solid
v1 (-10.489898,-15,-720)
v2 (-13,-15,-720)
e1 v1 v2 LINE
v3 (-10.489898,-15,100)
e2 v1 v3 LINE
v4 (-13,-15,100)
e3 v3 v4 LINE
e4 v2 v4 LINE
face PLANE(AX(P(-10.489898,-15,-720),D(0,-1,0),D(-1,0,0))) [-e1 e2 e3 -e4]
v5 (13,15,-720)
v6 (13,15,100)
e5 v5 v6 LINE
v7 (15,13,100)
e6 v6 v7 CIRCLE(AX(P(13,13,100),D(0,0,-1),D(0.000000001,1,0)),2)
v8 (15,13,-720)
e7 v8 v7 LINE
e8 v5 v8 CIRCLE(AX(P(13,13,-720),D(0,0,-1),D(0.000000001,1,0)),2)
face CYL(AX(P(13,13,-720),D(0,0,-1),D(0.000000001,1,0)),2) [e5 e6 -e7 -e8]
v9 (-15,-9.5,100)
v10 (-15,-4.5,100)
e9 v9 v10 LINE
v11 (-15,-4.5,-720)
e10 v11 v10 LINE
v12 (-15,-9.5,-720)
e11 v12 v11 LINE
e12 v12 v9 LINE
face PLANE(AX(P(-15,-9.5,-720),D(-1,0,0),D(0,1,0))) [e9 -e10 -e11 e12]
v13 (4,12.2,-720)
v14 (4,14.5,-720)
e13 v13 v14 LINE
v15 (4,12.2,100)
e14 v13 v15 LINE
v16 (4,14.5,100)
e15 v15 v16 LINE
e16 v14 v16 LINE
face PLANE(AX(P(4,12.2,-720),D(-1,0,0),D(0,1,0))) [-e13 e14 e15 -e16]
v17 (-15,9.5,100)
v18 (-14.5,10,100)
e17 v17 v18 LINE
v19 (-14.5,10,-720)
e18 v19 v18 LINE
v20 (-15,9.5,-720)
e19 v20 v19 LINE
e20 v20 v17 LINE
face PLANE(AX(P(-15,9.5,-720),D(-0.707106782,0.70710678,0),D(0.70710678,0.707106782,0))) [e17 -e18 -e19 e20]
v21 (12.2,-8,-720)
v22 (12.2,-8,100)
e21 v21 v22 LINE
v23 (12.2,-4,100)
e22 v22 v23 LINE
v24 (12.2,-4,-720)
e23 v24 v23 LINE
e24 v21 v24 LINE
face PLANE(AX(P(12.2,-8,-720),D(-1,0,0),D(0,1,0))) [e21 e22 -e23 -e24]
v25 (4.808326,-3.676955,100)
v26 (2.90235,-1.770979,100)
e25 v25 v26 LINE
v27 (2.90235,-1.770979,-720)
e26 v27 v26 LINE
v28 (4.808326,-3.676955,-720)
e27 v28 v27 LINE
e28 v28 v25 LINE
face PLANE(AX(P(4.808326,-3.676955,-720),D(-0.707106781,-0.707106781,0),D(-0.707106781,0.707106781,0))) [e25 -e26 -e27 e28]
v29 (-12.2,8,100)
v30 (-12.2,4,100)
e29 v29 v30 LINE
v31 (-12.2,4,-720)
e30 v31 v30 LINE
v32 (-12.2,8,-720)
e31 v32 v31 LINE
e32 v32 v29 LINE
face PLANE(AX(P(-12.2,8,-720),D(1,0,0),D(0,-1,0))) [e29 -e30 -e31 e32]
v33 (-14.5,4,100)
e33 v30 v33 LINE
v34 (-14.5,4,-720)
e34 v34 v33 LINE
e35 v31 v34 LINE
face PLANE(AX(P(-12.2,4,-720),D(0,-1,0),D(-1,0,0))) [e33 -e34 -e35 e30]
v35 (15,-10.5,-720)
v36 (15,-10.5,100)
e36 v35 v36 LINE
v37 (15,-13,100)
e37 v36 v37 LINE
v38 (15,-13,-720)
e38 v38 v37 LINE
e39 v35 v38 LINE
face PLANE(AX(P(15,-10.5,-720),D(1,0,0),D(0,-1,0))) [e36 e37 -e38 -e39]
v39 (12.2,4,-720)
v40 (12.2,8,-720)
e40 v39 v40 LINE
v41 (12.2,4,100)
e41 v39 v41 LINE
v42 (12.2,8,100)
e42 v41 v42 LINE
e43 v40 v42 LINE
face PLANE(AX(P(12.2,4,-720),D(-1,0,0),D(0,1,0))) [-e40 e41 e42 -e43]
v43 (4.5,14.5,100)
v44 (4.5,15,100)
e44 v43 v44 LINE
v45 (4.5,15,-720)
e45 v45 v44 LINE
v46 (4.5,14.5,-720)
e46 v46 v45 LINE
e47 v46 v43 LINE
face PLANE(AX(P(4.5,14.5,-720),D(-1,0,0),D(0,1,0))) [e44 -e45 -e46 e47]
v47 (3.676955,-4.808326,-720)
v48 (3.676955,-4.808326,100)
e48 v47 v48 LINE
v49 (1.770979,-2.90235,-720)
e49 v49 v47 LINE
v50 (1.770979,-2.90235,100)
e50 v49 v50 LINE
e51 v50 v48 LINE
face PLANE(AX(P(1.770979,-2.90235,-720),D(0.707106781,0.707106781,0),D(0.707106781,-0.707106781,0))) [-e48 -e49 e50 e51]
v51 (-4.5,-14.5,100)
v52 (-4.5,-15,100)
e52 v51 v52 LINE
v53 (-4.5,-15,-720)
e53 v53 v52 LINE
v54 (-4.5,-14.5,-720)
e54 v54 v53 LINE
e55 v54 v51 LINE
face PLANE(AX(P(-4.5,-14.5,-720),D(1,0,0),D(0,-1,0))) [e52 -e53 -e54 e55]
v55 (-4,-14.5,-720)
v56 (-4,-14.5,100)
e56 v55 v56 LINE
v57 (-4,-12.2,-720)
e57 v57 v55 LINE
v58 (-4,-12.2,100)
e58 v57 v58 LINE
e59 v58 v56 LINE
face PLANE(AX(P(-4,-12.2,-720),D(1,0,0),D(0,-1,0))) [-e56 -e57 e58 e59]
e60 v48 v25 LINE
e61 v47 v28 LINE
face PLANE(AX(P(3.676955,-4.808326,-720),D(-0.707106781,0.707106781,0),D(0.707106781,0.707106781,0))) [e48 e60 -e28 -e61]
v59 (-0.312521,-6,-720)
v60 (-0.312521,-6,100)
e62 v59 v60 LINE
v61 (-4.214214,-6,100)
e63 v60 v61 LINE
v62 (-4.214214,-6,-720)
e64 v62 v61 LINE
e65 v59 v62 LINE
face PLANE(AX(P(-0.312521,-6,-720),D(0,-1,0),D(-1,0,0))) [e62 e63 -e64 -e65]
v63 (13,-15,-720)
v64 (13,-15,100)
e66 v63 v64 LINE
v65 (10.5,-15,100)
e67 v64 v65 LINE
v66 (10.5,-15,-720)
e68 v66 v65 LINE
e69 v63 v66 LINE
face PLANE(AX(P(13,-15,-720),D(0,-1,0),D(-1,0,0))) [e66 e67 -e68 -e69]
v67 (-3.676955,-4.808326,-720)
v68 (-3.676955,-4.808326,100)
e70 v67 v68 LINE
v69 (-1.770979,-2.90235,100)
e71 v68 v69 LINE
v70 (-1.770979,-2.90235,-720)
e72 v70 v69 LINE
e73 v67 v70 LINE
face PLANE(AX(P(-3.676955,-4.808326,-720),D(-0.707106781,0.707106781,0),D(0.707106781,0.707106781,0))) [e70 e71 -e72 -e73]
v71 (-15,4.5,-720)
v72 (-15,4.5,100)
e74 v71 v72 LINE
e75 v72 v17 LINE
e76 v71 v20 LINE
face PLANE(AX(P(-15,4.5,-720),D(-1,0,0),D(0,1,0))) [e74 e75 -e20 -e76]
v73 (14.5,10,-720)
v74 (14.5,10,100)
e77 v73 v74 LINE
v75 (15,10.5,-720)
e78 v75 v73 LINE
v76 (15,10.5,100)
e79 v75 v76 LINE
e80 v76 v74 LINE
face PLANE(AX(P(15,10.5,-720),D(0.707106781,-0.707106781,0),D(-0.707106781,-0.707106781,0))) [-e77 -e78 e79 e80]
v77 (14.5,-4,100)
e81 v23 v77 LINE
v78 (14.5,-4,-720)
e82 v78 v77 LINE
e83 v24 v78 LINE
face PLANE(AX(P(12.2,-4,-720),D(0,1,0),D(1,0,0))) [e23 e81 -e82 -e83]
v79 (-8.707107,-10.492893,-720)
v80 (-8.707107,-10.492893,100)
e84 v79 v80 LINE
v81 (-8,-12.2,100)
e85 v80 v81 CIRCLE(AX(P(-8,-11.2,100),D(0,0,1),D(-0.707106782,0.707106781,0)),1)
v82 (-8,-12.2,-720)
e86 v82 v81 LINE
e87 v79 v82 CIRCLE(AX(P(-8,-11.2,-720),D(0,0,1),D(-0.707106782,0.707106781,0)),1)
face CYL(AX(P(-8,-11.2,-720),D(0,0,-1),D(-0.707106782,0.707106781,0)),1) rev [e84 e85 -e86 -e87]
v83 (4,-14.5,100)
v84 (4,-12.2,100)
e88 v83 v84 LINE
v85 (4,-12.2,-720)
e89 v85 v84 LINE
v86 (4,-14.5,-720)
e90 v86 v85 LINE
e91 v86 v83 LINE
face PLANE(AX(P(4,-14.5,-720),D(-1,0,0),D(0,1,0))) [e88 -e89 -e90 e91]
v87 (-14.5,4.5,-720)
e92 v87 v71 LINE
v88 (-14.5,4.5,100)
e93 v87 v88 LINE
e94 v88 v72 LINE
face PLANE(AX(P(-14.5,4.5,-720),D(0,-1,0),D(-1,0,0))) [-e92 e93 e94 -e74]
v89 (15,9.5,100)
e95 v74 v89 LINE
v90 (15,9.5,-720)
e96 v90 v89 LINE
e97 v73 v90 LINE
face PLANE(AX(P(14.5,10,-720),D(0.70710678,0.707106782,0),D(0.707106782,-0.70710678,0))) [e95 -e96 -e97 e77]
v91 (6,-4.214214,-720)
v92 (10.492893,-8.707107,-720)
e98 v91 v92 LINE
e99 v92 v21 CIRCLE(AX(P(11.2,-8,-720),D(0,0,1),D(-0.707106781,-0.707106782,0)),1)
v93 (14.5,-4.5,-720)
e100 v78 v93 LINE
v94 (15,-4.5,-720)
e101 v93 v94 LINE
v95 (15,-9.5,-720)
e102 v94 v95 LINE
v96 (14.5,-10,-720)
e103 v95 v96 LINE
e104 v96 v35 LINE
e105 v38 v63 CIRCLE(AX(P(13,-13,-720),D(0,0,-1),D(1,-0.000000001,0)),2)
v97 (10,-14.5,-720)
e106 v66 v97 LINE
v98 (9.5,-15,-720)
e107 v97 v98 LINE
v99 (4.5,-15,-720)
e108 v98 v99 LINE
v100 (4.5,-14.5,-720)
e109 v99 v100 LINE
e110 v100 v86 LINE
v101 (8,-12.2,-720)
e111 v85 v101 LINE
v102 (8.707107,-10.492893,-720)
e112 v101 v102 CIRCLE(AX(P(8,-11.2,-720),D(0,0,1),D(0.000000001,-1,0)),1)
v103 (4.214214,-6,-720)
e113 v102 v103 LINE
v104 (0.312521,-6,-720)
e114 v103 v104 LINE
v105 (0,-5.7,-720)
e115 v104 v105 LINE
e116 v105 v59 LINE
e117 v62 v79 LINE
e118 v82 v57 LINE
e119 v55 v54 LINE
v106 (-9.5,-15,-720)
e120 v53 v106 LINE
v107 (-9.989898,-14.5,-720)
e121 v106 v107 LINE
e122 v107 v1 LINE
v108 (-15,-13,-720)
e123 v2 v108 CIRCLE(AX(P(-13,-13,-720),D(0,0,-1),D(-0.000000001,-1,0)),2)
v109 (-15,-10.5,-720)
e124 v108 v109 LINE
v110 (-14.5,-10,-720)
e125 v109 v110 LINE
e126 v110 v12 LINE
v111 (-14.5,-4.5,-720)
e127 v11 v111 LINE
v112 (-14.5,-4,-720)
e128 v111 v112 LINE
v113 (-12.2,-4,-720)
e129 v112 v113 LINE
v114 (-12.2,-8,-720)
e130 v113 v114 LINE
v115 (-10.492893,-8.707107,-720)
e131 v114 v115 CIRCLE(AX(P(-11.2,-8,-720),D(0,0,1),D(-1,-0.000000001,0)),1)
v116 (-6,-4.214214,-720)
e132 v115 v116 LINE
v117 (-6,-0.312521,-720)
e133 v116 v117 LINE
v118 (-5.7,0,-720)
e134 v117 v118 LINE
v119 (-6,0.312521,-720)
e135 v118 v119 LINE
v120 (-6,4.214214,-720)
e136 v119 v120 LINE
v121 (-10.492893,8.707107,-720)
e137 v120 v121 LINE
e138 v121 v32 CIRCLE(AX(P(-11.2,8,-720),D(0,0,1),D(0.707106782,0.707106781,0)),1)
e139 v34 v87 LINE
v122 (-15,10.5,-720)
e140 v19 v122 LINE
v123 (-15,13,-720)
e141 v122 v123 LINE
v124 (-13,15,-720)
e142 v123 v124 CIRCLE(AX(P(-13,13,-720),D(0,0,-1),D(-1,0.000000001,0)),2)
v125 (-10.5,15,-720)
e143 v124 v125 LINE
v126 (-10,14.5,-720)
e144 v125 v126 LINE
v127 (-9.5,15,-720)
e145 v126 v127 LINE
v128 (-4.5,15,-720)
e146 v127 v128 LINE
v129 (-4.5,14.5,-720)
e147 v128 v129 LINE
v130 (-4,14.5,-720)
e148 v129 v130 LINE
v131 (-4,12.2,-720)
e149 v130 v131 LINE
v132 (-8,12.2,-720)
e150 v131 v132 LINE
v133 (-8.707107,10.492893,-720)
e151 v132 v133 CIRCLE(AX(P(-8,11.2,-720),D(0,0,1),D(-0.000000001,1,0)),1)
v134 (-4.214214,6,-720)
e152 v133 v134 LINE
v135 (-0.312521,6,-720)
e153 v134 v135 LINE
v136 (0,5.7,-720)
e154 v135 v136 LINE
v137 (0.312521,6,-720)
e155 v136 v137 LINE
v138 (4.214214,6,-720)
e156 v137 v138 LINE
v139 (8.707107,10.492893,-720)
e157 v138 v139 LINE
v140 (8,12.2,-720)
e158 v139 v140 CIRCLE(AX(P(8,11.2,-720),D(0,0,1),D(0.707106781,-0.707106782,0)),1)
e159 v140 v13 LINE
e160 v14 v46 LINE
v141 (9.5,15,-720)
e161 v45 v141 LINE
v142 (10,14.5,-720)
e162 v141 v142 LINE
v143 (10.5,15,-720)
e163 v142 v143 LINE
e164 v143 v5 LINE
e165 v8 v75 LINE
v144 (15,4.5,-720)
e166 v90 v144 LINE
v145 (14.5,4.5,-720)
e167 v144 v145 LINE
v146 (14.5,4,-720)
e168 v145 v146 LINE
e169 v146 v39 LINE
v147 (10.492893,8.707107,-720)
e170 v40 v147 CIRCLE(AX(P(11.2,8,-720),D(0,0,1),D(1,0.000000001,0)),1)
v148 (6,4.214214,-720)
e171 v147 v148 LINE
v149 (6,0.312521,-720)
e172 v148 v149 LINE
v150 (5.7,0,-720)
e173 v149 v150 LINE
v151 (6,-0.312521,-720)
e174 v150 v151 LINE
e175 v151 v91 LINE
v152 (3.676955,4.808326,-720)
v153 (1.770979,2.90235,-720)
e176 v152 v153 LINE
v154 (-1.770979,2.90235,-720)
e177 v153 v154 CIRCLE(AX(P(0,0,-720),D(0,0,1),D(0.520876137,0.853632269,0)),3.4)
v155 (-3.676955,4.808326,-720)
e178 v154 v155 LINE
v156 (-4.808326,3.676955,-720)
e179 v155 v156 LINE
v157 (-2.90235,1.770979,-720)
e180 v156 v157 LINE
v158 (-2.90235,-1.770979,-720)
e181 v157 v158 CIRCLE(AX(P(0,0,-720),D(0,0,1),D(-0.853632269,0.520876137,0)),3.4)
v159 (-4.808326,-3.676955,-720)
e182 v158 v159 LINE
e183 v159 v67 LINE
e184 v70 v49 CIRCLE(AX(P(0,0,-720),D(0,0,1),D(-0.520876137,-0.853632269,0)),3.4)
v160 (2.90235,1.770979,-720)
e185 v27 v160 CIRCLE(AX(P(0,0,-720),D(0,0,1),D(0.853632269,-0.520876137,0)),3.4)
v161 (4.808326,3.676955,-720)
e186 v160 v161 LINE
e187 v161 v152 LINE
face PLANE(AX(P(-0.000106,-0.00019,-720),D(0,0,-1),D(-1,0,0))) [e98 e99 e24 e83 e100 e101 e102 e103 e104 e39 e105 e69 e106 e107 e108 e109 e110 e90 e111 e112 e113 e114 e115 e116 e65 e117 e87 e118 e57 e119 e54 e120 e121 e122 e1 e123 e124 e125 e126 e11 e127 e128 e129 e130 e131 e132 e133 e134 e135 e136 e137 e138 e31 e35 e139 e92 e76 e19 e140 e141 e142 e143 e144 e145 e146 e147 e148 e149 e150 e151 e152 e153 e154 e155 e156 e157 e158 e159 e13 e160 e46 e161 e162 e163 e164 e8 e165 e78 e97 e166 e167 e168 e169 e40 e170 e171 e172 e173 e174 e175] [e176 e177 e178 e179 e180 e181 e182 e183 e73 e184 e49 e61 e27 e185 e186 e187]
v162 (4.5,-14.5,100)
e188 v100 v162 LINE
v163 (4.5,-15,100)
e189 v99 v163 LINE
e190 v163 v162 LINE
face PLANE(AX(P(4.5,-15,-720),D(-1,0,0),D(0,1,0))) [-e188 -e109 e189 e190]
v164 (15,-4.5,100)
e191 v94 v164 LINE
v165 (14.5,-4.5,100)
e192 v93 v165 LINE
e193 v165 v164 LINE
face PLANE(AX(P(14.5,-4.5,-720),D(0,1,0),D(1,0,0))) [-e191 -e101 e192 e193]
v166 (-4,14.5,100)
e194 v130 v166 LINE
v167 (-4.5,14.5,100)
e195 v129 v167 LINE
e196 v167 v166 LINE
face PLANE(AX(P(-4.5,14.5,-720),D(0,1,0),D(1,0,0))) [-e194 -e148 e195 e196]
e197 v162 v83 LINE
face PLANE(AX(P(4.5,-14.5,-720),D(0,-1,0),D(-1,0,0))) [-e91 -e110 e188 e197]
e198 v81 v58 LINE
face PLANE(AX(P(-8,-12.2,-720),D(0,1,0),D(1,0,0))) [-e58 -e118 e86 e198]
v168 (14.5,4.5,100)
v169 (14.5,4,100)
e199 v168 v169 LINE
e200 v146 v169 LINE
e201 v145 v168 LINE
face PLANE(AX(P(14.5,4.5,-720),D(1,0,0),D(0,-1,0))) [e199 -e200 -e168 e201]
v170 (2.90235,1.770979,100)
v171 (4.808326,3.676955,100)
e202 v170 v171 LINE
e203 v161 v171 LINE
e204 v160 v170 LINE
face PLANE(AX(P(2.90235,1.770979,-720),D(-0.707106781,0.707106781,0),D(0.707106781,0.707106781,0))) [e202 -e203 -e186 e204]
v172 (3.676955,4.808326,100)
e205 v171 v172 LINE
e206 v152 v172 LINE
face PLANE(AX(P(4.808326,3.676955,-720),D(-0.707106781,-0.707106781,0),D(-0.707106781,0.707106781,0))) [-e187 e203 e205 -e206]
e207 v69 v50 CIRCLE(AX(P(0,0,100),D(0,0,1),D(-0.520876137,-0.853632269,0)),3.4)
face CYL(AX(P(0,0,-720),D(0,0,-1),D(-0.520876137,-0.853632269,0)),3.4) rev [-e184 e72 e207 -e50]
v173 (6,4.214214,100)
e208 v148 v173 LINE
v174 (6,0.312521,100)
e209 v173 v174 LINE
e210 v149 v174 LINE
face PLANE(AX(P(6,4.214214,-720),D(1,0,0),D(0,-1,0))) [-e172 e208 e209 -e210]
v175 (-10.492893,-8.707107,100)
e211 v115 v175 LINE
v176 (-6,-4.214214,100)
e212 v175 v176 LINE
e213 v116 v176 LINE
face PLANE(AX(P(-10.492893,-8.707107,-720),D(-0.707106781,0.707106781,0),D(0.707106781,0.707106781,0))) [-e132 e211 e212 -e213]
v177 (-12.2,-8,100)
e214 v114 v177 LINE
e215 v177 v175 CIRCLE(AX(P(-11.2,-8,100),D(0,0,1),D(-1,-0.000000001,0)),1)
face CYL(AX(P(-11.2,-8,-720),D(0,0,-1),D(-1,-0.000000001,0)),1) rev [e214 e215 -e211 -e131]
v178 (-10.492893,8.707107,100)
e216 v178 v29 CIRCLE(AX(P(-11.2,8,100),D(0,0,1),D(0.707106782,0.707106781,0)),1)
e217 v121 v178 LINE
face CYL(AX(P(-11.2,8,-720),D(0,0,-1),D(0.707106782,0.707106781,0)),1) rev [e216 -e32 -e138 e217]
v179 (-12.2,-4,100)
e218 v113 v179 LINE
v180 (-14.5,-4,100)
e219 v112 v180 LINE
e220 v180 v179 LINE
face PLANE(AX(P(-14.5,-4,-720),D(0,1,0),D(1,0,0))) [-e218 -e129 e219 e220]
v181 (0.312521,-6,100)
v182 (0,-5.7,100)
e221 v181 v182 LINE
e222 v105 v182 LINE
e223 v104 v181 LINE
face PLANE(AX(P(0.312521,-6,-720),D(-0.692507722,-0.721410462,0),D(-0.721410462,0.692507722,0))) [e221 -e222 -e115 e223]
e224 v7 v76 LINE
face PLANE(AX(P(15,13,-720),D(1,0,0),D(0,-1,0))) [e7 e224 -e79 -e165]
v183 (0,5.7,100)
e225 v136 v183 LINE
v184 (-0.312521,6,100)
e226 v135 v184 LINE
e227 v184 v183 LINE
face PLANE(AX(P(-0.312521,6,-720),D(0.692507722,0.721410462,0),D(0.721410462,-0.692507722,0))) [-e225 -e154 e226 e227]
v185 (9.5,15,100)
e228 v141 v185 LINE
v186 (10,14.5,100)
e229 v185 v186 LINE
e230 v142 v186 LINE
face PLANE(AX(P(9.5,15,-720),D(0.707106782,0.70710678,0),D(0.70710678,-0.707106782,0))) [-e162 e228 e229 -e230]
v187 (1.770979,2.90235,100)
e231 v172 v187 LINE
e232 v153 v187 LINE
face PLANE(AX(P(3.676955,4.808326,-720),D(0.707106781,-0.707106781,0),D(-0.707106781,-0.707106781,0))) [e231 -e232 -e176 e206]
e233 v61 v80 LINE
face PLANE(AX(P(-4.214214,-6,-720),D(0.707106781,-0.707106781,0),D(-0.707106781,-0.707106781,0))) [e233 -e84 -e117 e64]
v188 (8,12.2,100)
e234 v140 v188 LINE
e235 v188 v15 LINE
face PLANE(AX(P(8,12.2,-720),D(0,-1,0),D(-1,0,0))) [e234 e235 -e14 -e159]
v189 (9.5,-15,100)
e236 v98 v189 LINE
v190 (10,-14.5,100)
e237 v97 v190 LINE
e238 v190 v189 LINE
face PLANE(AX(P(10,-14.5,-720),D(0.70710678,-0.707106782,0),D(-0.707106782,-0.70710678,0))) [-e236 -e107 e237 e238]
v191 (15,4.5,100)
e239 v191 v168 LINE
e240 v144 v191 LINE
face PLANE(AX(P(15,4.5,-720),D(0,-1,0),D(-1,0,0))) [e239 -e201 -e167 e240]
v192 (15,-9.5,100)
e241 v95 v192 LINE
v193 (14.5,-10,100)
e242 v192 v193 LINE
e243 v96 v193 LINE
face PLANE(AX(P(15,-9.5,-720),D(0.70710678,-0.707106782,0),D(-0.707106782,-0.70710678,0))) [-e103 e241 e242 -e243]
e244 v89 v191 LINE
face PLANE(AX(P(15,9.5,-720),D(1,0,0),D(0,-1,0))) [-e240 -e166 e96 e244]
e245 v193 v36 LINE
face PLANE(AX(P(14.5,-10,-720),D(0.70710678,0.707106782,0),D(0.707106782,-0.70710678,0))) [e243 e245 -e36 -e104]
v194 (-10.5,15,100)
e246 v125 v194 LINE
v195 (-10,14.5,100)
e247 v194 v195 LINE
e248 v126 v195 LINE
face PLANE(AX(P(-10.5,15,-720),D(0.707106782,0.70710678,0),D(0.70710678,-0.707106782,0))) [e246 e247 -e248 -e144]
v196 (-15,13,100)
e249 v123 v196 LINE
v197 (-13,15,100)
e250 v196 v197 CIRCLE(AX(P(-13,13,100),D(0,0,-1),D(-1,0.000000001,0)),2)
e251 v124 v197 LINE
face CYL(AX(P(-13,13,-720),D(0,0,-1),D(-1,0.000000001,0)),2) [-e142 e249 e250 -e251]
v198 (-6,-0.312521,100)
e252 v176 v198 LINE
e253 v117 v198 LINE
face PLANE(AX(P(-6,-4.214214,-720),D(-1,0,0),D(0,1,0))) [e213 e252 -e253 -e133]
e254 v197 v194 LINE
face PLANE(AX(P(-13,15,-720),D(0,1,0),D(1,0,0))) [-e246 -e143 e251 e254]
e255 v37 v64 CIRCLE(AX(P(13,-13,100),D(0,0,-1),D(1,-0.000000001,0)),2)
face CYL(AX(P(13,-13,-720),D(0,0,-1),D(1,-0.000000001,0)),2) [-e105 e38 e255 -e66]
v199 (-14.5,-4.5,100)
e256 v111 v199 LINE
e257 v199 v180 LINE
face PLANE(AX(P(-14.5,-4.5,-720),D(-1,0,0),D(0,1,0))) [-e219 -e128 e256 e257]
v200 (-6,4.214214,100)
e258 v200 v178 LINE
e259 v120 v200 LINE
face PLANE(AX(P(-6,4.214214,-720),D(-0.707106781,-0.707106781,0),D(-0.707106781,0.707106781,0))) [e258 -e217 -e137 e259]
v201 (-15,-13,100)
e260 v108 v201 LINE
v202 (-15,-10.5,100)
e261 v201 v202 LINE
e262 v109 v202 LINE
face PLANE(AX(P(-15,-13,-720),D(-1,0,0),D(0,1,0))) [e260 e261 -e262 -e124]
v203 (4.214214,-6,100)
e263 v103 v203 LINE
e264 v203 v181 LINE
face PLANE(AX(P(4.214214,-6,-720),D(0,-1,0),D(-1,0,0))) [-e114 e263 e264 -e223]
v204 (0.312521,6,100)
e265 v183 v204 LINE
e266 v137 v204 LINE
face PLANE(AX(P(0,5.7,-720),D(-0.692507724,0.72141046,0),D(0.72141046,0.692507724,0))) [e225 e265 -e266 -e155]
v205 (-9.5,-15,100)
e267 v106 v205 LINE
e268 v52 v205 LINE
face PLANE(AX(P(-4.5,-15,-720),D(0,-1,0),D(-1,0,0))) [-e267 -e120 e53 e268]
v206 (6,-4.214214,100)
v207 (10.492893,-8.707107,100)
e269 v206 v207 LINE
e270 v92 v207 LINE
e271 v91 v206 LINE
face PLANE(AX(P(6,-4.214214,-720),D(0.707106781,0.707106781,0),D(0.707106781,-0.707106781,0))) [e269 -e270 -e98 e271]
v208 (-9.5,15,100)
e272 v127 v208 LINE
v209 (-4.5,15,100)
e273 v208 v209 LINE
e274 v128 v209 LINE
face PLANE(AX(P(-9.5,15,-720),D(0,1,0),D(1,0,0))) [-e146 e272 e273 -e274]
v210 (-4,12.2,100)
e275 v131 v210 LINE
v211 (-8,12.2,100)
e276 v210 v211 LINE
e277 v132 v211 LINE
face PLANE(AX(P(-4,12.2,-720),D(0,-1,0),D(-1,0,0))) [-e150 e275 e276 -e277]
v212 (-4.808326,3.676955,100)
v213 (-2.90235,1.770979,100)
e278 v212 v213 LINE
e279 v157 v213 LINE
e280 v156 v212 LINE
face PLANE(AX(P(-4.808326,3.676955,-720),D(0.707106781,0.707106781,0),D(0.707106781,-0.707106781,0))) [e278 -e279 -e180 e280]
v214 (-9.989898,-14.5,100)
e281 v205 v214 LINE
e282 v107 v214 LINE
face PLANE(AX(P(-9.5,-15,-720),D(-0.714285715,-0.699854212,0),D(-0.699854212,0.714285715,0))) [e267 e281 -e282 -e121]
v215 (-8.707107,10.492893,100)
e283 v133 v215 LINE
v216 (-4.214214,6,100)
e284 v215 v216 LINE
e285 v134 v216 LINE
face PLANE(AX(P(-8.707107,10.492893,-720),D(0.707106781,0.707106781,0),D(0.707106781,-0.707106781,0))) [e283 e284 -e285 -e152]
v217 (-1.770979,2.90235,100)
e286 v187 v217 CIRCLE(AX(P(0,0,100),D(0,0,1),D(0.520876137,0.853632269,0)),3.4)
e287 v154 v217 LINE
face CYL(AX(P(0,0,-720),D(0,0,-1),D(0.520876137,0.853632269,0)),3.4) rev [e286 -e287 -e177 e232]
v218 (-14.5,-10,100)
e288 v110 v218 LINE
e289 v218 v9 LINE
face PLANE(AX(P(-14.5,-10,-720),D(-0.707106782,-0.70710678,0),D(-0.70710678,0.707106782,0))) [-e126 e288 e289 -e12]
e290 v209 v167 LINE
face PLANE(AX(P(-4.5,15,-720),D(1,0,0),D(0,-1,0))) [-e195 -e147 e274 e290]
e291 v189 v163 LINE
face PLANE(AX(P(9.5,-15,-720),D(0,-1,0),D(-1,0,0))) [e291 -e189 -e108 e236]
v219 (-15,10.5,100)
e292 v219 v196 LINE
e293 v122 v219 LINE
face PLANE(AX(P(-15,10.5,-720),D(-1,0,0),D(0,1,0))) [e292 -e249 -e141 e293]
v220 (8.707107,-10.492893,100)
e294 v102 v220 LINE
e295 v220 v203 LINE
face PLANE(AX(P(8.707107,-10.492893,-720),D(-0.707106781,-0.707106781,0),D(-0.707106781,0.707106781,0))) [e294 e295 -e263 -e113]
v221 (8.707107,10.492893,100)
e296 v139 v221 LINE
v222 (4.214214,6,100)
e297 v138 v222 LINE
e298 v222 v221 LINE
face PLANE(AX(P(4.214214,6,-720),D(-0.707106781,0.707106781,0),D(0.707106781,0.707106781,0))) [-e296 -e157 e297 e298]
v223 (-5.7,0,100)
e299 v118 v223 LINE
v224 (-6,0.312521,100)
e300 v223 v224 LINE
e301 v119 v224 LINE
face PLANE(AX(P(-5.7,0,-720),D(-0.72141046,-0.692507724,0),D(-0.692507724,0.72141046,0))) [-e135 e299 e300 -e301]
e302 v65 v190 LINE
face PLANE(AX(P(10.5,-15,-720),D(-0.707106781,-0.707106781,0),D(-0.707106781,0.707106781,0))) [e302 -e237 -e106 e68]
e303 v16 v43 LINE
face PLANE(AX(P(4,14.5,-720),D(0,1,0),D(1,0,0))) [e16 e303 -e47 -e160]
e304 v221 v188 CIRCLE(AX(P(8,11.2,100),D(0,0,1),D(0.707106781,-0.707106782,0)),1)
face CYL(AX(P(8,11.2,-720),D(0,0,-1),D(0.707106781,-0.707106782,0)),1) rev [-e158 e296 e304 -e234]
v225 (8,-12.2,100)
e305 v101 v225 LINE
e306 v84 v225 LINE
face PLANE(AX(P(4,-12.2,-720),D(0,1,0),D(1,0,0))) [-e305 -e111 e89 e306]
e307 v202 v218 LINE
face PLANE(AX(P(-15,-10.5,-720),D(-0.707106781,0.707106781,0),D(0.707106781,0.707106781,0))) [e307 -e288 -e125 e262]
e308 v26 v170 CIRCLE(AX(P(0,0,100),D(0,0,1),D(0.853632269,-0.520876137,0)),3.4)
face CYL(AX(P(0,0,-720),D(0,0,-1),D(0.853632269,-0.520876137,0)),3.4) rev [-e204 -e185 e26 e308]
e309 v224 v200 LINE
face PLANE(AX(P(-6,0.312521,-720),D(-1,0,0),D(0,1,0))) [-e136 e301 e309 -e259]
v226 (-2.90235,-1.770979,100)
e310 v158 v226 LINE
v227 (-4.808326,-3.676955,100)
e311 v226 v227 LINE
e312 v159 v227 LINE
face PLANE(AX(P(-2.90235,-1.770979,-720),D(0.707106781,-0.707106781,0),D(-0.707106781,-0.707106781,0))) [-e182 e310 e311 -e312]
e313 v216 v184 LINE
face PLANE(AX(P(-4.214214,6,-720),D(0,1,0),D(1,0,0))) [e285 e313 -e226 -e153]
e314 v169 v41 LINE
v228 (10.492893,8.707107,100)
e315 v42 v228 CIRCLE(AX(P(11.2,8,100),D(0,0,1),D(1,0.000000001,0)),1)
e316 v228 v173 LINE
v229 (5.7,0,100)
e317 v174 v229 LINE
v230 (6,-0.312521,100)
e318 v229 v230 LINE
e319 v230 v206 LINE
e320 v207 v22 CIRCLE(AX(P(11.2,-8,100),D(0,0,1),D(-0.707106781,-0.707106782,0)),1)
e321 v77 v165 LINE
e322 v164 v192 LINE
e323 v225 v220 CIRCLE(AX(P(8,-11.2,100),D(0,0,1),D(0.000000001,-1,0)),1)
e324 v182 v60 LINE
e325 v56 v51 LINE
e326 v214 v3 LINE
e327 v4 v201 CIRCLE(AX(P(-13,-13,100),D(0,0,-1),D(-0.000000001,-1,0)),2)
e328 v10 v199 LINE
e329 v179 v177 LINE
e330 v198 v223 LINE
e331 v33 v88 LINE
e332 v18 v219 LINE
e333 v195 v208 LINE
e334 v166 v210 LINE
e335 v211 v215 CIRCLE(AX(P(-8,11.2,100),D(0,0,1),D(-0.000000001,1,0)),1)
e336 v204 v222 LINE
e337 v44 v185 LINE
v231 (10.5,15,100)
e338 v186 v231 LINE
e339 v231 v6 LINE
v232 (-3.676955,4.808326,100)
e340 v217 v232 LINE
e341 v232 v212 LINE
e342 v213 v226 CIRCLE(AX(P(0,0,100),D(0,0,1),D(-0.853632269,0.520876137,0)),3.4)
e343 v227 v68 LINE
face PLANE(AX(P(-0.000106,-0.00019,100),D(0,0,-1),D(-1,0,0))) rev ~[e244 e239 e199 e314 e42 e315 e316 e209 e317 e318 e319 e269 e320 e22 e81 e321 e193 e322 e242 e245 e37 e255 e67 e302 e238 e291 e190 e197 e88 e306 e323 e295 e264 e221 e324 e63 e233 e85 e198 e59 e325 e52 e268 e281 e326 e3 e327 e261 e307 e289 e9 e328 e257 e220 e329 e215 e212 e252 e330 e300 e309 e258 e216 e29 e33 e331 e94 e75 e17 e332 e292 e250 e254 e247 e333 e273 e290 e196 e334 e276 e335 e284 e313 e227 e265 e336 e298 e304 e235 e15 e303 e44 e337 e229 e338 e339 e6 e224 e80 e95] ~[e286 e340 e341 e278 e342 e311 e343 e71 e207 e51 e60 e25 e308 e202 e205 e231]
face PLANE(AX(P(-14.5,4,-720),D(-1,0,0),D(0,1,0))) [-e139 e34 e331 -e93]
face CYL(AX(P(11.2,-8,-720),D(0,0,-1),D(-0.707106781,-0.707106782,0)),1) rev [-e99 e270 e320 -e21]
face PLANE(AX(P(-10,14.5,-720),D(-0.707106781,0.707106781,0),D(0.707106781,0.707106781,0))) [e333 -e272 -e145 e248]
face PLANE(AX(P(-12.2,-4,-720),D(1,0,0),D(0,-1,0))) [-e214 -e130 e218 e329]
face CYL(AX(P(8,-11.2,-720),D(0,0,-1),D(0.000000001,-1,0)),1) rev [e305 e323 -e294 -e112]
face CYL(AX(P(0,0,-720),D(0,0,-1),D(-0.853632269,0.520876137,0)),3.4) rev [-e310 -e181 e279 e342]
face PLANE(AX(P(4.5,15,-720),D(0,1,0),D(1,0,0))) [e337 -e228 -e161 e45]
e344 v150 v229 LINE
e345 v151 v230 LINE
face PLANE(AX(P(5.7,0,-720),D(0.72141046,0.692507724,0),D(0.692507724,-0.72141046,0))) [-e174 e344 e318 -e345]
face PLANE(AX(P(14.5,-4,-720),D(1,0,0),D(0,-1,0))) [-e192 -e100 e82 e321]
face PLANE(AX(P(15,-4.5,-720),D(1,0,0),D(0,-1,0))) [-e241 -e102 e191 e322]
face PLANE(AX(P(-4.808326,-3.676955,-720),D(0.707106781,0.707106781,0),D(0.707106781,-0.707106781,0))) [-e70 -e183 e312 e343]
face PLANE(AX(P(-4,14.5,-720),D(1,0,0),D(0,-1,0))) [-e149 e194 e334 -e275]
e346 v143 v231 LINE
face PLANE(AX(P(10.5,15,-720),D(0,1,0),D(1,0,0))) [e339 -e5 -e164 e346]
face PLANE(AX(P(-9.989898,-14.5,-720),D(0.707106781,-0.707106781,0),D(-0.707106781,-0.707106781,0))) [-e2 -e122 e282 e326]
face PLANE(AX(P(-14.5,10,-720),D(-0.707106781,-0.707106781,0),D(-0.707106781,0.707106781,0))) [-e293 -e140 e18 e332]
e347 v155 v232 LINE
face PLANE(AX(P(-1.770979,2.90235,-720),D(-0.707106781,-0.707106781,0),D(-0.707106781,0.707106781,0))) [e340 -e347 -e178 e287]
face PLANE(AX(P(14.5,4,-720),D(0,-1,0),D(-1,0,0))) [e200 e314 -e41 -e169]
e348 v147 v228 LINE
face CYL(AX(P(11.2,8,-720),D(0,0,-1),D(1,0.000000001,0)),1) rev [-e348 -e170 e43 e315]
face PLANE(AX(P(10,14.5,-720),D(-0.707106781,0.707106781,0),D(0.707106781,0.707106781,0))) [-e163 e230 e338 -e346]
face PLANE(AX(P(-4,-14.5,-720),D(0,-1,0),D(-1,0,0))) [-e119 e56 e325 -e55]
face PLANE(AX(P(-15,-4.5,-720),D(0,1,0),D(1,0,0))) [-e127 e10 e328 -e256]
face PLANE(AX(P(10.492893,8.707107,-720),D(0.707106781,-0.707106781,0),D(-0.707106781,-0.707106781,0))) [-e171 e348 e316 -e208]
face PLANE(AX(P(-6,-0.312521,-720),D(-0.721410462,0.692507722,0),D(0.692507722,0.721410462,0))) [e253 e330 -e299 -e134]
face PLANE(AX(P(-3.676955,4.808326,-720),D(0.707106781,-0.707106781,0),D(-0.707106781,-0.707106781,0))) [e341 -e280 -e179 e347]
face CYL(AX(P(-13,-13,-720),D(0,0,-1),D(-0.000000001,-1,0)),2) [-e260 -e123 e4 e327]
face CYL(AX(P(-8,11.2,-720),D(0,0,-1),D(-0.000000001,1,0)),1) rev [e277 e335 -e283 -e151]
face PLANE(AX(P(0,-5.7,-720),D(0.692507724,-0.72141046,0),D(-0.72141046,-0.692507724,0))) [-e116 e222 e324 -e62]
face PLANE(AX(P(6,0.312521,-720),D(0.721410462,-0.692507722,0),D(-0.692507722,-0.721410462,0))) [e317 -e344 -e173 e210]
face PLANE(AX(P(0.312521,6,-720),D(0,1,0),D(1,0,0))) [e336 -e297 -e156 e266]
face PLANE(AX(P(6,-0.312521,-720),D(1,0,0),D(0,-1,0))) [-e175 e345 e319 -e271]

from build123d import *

# Parameters (mm, degrees)
BOSS_EXTRUDE1_DEPTH = 820


with BuildPart() as part:
    # Sketch1 → Boss-Extrude1 (new body)
    with BuildSketch(Plane(origin=(0, 0, -720), x_dir=(-1, 0, 0), z_dir=(0, 0, -1))):
        with BuildLine():
            Line((-14.999999999, 12.999999999), (-14.999999999, 10.499999999))
            Line((-14.999999999, 10.499999999), (-14.499999999, 9.999999999))
            Line((-14.499999999, 9.999999999), (-14.999999999, 9.5))
            Line((-14.999999999, 9.5), (-14.999999999, 4.5))
            Line((-14.999999999, 4.5), (-14.5, 4.5))
            Line((-14.5, 4.5), (-14.5, 4))
            Line((-14.5, 4), (-12.200000005, 4))
            Line((-12.200000005, 4), (-12.200000005, 7.999999995))
            ThreePointArc((-12.200000005, 7.999999995), (-11.582683434, 8.923879532), (-10.492893215, 8.70710678))
            Line((-10.492893215, 8.70710678), (-6, 4.214213564))
            Line((-6, 4.214213564), (-6, 0.312520903))
            Line((-6, 0.312520903), (-5.7, 0))
            Line((-5.7, 0), (-6, -0.312520901))
            Line((-6, -0.312520901), (-6, -4.214213564))
            Line((-6, -4.214213564), (-10.492893215, -8.70710678))
            ThreePointArc((-10.492893215, -8.70710678), (-11.582683434, -8.923879532), (-12.200000005, -7.999999995))
            Line((-12.200000005, -7.999999995), (-12.200000005, -4))
            Line((-12.200000005, -4), (-14.5, -4))
            Line((-14.5, -4), (-14.5, -4.5))
            Line((-14.5, -4.5), (-14.999999999, -4.5))
            Line((-14.999999999, -4.5), (-14.999999999, -9.500000003))
            Line((-14.999999999, -9.500000003), (-14.499999999, -10.000000002))
            Line((-14.499999999, -10.000000002), (-14.999999999, -10.500000001))
            Line((-14.999999999, -10.500000001), (-14.999999999, -13))
            ThreePointArc((-14.999999999, -13), (-14.414213561, -14.414213562), (-12.999999999, -15))
            Line((-12.999999999, -15), (-10.5, -15))
            Line((-10.5, -15), (-10.000000001, -14.500000001))
            Line((-10.000000001, -14.500000001), (-9.500000001, -15))
            Line((-9.500000001, -15), (-4.5, -15))
            Line((-4.5, -15), (-4.5, -14.5))
            Line((-4.5, -14.5), (-4, -14.5))
            Line((-4, -14.5), (-4, -12.200000005))
            Line((-4, -12.200000005), (-7.999999995, -12.200000005))
            ThreePointArc((-7.999999995, -12.200000005), (-8.923879532, -11.582683434), (-8.70710678, -10.492893215))
            Line((-8.70710678, -10.492893215), (-4.214213564, -6))
            Line((-4.214213564, -6), (-0.312520903, -6))
            Line((-0.312520903, -6), (0, -5.7))
            Line((0, -5.7), (0.312520901, -6))
            Line((0.312520901, -6), (4.214213564, -6))
            Line((4.214213564, -6), (8.70710678, -10.492893215))
            ThreePointArc((8.70710678, -10.492893215), (8.923879532, -11.582683434), (7.999999995, -12.200000005))
            Line((7.999999995, -12.200000005), (4, -12.200000005))
            Line((4, -12.200000005), (4, -14.5))
            Line((4, -14.5), (4.5, -14.5))
            Line((4.5, -14.5), (4.5, -15))
            Line((4.5, -15), (9.500000001, -15))
            Line((9.500000001, -15), (9.989897949, -14.5))
            Line((9.989897949, -14.5), (10.489897949, -15))
            Line((10.489897949, -15), (13, -15))
            ThreePointArc((13, -15), (14.414213562, -14.414213562), (15, -13))
            Line((15, -13), (15, -10.5))
            Line((15, -10.5), (14.500000001, -10.000000001))
            Line((14.500000001, -10.000000001), (15, -9.500000001))
            Line((15, -9.500000001), (15, -4.5))
            Line((15, -4.5), (14.5, -4.5))
            Line((14.5, -4.5), (14.5, -4))
            Line((14.5, -4), (12.200000005, -4))
            Line((12.200000005, -4), (12.200000005, -7.999999995))
            ThreePointArc((12.200000005, -7.999999995), (11.582683434, -8.923879532), (10.492893215, -8.70710678))
            Line((10.492893215, -8.70710678), (6, -4.214213564))
            Line((6, -4.214213564), (6, -0.312520903))
            Line((6, -0.312520903), (5.7, 0))
            Line((5.7, 0), (6, 0.312520901))
            Line((6, 0.312520901), (6, 4.214213564))
            Line((6, 4.214213564), (10.492893215, 8.707106779))
            ThreePointArc((10.492893215, 8.707106779), (11.582683434, 8.923879532), (12.200000005, 7.999999994))
            Line((12.200000005, 7.999999994), (12.200000005, 4))
            Line((12.200000005, 4), (14.5, 4))
            Line((14.5, 4), (14.5, 4.5))
            Line((14.5, 4.5), (15, 4.5))
            Line((15, 4.5), (15, 9.500000001))
            Line((15, 9.500000001), (14.500000001, 10.000000001))
            Line((14.500000001, 10.000000001), (15, 10.5))
            Line((15, 10.5), (15, 12.999999999))
            ThreePointArc((15, 12.999999999), (14.414213562, 14.414213561), (13, 14.999999999))
            Line((13, 14.999999999), (10.500000001, 14.999999999))
            Line((10.500000001, 14.999999999), (10.000000002, 14.499999999))
            Line((10.000000002, 14.499999999), (9.500000002, 14.999999999))
            Line((9.500000002, 14.999999999), (4.5, 14.999999999))
            Line((4.5, 14.999999999), (4.5, 14.5))
            Line((4.5, 14.5), (4, 14.5))
            Line((4, 14.5), (4, 12.200000005))
            Line((4, 12.200000005), (7.999999995, 12.200000005))
            ThreePointArc((7.999999995, 12.200000005), (8.923879532, 11.582683434), (8.70710678, 10.492893215))
            Line((8.70710678, 10.492893215), (4.214213564, 6))
            Line((4.214213564, 6), (0.312520903, 6))
            Line((0.312520903, 6), (0, 5.7))
            Line((0, 5.7), (-0.312520901, 6))
            Line((-0.312520901, 6), (-4.214213564, 6))
            Line((-4.214213564, 6), (-8.707106779, 10.492893215))
            ThreePointArc((-8.707106779, 10.492893215), (-8.923879532, 11.582683434), (-7.999999994, 12.200000005))
            Line((-7.999999994, 12.200000005), (-4, 12.200000005))
            Line((-4, 12.200000005), (-4, 14.5))
            Line((-4, 14.5), (-4.5, 14.5))
            Line((-4.5, 14.5), (-4.5, 14.999999999))
            Line((-4.5, 14.999999999), (-9.5, 14.999999999))
            Line((-9.5, 14.999999999), (-9.999999999, 14.499999999))
            Line((-9.999999999, 14.499999999), (-10.499999999, 14.999999999))
            Line((-10.499999999, 14.999999999), (-12.999999999, 14.999999999))
            ThreePointArc((-12.999999999, 14.999999999), (-14.414213561, 14.414213561), (-14.999999999, 12.999999999))
        make_face()
        with BuildLine():
            Line((4.808326112, 3.676955262), (2.902349714, 1.770978864))
            ThreePointArc((2.902349714, 1.770978864), (3.4, 0), (2.902349714, -1.770978864))
            Line((2.902349714, -1.770978864), (4.808326112, -3.676955262))
            Line((4.808326112, -3.676955262), (3.676955262, -4.808326112))
            Line((3.676955262, -4.808326112), (1.770978864, -2.902349714))
            ThreePointArc((1.770978864, -2.902349714), (0, -3.4), (-1.770978864, -2.902349714))
            Line((-1.770978864, -2.902349714), (-3.676955262, -4.808326112))
            Line((-3.676955262, -4.808326112), (-4.808326112, -3.676955262))
            Line((-4.808326112, -3.676955262), (-2.902349714, -1.770978864))
            ThreePointArc((-2.902349714, -1.770978864), (-3.4, 0), (-2.902349714, 1.770978864))
            Line((-2.902349714, 1.770978864), (-4.808326112, 3.676955262))
            Line((-4.808326112, 3.676955262), (-3.676955262, 4.808326112))
            Line((-3.676955262, 4.808326112), (-1.770978864, 2.902349714))
            ThreePointArc((-1.770978864, 2.902349714), (0, 3.4), (1.770978864, 2.902349714))
            Line((1.770978864, 2.902349714), (3.676955262, 4.808326112))
            Line((3.676955262, 4.808326112), (4.808326112, 3.676955262))
        make_face(mode=Mode.SUBTRACT)
    extrude(amount=-BOSS_EXTRUDE1_DEPTH)


solid = part.part
